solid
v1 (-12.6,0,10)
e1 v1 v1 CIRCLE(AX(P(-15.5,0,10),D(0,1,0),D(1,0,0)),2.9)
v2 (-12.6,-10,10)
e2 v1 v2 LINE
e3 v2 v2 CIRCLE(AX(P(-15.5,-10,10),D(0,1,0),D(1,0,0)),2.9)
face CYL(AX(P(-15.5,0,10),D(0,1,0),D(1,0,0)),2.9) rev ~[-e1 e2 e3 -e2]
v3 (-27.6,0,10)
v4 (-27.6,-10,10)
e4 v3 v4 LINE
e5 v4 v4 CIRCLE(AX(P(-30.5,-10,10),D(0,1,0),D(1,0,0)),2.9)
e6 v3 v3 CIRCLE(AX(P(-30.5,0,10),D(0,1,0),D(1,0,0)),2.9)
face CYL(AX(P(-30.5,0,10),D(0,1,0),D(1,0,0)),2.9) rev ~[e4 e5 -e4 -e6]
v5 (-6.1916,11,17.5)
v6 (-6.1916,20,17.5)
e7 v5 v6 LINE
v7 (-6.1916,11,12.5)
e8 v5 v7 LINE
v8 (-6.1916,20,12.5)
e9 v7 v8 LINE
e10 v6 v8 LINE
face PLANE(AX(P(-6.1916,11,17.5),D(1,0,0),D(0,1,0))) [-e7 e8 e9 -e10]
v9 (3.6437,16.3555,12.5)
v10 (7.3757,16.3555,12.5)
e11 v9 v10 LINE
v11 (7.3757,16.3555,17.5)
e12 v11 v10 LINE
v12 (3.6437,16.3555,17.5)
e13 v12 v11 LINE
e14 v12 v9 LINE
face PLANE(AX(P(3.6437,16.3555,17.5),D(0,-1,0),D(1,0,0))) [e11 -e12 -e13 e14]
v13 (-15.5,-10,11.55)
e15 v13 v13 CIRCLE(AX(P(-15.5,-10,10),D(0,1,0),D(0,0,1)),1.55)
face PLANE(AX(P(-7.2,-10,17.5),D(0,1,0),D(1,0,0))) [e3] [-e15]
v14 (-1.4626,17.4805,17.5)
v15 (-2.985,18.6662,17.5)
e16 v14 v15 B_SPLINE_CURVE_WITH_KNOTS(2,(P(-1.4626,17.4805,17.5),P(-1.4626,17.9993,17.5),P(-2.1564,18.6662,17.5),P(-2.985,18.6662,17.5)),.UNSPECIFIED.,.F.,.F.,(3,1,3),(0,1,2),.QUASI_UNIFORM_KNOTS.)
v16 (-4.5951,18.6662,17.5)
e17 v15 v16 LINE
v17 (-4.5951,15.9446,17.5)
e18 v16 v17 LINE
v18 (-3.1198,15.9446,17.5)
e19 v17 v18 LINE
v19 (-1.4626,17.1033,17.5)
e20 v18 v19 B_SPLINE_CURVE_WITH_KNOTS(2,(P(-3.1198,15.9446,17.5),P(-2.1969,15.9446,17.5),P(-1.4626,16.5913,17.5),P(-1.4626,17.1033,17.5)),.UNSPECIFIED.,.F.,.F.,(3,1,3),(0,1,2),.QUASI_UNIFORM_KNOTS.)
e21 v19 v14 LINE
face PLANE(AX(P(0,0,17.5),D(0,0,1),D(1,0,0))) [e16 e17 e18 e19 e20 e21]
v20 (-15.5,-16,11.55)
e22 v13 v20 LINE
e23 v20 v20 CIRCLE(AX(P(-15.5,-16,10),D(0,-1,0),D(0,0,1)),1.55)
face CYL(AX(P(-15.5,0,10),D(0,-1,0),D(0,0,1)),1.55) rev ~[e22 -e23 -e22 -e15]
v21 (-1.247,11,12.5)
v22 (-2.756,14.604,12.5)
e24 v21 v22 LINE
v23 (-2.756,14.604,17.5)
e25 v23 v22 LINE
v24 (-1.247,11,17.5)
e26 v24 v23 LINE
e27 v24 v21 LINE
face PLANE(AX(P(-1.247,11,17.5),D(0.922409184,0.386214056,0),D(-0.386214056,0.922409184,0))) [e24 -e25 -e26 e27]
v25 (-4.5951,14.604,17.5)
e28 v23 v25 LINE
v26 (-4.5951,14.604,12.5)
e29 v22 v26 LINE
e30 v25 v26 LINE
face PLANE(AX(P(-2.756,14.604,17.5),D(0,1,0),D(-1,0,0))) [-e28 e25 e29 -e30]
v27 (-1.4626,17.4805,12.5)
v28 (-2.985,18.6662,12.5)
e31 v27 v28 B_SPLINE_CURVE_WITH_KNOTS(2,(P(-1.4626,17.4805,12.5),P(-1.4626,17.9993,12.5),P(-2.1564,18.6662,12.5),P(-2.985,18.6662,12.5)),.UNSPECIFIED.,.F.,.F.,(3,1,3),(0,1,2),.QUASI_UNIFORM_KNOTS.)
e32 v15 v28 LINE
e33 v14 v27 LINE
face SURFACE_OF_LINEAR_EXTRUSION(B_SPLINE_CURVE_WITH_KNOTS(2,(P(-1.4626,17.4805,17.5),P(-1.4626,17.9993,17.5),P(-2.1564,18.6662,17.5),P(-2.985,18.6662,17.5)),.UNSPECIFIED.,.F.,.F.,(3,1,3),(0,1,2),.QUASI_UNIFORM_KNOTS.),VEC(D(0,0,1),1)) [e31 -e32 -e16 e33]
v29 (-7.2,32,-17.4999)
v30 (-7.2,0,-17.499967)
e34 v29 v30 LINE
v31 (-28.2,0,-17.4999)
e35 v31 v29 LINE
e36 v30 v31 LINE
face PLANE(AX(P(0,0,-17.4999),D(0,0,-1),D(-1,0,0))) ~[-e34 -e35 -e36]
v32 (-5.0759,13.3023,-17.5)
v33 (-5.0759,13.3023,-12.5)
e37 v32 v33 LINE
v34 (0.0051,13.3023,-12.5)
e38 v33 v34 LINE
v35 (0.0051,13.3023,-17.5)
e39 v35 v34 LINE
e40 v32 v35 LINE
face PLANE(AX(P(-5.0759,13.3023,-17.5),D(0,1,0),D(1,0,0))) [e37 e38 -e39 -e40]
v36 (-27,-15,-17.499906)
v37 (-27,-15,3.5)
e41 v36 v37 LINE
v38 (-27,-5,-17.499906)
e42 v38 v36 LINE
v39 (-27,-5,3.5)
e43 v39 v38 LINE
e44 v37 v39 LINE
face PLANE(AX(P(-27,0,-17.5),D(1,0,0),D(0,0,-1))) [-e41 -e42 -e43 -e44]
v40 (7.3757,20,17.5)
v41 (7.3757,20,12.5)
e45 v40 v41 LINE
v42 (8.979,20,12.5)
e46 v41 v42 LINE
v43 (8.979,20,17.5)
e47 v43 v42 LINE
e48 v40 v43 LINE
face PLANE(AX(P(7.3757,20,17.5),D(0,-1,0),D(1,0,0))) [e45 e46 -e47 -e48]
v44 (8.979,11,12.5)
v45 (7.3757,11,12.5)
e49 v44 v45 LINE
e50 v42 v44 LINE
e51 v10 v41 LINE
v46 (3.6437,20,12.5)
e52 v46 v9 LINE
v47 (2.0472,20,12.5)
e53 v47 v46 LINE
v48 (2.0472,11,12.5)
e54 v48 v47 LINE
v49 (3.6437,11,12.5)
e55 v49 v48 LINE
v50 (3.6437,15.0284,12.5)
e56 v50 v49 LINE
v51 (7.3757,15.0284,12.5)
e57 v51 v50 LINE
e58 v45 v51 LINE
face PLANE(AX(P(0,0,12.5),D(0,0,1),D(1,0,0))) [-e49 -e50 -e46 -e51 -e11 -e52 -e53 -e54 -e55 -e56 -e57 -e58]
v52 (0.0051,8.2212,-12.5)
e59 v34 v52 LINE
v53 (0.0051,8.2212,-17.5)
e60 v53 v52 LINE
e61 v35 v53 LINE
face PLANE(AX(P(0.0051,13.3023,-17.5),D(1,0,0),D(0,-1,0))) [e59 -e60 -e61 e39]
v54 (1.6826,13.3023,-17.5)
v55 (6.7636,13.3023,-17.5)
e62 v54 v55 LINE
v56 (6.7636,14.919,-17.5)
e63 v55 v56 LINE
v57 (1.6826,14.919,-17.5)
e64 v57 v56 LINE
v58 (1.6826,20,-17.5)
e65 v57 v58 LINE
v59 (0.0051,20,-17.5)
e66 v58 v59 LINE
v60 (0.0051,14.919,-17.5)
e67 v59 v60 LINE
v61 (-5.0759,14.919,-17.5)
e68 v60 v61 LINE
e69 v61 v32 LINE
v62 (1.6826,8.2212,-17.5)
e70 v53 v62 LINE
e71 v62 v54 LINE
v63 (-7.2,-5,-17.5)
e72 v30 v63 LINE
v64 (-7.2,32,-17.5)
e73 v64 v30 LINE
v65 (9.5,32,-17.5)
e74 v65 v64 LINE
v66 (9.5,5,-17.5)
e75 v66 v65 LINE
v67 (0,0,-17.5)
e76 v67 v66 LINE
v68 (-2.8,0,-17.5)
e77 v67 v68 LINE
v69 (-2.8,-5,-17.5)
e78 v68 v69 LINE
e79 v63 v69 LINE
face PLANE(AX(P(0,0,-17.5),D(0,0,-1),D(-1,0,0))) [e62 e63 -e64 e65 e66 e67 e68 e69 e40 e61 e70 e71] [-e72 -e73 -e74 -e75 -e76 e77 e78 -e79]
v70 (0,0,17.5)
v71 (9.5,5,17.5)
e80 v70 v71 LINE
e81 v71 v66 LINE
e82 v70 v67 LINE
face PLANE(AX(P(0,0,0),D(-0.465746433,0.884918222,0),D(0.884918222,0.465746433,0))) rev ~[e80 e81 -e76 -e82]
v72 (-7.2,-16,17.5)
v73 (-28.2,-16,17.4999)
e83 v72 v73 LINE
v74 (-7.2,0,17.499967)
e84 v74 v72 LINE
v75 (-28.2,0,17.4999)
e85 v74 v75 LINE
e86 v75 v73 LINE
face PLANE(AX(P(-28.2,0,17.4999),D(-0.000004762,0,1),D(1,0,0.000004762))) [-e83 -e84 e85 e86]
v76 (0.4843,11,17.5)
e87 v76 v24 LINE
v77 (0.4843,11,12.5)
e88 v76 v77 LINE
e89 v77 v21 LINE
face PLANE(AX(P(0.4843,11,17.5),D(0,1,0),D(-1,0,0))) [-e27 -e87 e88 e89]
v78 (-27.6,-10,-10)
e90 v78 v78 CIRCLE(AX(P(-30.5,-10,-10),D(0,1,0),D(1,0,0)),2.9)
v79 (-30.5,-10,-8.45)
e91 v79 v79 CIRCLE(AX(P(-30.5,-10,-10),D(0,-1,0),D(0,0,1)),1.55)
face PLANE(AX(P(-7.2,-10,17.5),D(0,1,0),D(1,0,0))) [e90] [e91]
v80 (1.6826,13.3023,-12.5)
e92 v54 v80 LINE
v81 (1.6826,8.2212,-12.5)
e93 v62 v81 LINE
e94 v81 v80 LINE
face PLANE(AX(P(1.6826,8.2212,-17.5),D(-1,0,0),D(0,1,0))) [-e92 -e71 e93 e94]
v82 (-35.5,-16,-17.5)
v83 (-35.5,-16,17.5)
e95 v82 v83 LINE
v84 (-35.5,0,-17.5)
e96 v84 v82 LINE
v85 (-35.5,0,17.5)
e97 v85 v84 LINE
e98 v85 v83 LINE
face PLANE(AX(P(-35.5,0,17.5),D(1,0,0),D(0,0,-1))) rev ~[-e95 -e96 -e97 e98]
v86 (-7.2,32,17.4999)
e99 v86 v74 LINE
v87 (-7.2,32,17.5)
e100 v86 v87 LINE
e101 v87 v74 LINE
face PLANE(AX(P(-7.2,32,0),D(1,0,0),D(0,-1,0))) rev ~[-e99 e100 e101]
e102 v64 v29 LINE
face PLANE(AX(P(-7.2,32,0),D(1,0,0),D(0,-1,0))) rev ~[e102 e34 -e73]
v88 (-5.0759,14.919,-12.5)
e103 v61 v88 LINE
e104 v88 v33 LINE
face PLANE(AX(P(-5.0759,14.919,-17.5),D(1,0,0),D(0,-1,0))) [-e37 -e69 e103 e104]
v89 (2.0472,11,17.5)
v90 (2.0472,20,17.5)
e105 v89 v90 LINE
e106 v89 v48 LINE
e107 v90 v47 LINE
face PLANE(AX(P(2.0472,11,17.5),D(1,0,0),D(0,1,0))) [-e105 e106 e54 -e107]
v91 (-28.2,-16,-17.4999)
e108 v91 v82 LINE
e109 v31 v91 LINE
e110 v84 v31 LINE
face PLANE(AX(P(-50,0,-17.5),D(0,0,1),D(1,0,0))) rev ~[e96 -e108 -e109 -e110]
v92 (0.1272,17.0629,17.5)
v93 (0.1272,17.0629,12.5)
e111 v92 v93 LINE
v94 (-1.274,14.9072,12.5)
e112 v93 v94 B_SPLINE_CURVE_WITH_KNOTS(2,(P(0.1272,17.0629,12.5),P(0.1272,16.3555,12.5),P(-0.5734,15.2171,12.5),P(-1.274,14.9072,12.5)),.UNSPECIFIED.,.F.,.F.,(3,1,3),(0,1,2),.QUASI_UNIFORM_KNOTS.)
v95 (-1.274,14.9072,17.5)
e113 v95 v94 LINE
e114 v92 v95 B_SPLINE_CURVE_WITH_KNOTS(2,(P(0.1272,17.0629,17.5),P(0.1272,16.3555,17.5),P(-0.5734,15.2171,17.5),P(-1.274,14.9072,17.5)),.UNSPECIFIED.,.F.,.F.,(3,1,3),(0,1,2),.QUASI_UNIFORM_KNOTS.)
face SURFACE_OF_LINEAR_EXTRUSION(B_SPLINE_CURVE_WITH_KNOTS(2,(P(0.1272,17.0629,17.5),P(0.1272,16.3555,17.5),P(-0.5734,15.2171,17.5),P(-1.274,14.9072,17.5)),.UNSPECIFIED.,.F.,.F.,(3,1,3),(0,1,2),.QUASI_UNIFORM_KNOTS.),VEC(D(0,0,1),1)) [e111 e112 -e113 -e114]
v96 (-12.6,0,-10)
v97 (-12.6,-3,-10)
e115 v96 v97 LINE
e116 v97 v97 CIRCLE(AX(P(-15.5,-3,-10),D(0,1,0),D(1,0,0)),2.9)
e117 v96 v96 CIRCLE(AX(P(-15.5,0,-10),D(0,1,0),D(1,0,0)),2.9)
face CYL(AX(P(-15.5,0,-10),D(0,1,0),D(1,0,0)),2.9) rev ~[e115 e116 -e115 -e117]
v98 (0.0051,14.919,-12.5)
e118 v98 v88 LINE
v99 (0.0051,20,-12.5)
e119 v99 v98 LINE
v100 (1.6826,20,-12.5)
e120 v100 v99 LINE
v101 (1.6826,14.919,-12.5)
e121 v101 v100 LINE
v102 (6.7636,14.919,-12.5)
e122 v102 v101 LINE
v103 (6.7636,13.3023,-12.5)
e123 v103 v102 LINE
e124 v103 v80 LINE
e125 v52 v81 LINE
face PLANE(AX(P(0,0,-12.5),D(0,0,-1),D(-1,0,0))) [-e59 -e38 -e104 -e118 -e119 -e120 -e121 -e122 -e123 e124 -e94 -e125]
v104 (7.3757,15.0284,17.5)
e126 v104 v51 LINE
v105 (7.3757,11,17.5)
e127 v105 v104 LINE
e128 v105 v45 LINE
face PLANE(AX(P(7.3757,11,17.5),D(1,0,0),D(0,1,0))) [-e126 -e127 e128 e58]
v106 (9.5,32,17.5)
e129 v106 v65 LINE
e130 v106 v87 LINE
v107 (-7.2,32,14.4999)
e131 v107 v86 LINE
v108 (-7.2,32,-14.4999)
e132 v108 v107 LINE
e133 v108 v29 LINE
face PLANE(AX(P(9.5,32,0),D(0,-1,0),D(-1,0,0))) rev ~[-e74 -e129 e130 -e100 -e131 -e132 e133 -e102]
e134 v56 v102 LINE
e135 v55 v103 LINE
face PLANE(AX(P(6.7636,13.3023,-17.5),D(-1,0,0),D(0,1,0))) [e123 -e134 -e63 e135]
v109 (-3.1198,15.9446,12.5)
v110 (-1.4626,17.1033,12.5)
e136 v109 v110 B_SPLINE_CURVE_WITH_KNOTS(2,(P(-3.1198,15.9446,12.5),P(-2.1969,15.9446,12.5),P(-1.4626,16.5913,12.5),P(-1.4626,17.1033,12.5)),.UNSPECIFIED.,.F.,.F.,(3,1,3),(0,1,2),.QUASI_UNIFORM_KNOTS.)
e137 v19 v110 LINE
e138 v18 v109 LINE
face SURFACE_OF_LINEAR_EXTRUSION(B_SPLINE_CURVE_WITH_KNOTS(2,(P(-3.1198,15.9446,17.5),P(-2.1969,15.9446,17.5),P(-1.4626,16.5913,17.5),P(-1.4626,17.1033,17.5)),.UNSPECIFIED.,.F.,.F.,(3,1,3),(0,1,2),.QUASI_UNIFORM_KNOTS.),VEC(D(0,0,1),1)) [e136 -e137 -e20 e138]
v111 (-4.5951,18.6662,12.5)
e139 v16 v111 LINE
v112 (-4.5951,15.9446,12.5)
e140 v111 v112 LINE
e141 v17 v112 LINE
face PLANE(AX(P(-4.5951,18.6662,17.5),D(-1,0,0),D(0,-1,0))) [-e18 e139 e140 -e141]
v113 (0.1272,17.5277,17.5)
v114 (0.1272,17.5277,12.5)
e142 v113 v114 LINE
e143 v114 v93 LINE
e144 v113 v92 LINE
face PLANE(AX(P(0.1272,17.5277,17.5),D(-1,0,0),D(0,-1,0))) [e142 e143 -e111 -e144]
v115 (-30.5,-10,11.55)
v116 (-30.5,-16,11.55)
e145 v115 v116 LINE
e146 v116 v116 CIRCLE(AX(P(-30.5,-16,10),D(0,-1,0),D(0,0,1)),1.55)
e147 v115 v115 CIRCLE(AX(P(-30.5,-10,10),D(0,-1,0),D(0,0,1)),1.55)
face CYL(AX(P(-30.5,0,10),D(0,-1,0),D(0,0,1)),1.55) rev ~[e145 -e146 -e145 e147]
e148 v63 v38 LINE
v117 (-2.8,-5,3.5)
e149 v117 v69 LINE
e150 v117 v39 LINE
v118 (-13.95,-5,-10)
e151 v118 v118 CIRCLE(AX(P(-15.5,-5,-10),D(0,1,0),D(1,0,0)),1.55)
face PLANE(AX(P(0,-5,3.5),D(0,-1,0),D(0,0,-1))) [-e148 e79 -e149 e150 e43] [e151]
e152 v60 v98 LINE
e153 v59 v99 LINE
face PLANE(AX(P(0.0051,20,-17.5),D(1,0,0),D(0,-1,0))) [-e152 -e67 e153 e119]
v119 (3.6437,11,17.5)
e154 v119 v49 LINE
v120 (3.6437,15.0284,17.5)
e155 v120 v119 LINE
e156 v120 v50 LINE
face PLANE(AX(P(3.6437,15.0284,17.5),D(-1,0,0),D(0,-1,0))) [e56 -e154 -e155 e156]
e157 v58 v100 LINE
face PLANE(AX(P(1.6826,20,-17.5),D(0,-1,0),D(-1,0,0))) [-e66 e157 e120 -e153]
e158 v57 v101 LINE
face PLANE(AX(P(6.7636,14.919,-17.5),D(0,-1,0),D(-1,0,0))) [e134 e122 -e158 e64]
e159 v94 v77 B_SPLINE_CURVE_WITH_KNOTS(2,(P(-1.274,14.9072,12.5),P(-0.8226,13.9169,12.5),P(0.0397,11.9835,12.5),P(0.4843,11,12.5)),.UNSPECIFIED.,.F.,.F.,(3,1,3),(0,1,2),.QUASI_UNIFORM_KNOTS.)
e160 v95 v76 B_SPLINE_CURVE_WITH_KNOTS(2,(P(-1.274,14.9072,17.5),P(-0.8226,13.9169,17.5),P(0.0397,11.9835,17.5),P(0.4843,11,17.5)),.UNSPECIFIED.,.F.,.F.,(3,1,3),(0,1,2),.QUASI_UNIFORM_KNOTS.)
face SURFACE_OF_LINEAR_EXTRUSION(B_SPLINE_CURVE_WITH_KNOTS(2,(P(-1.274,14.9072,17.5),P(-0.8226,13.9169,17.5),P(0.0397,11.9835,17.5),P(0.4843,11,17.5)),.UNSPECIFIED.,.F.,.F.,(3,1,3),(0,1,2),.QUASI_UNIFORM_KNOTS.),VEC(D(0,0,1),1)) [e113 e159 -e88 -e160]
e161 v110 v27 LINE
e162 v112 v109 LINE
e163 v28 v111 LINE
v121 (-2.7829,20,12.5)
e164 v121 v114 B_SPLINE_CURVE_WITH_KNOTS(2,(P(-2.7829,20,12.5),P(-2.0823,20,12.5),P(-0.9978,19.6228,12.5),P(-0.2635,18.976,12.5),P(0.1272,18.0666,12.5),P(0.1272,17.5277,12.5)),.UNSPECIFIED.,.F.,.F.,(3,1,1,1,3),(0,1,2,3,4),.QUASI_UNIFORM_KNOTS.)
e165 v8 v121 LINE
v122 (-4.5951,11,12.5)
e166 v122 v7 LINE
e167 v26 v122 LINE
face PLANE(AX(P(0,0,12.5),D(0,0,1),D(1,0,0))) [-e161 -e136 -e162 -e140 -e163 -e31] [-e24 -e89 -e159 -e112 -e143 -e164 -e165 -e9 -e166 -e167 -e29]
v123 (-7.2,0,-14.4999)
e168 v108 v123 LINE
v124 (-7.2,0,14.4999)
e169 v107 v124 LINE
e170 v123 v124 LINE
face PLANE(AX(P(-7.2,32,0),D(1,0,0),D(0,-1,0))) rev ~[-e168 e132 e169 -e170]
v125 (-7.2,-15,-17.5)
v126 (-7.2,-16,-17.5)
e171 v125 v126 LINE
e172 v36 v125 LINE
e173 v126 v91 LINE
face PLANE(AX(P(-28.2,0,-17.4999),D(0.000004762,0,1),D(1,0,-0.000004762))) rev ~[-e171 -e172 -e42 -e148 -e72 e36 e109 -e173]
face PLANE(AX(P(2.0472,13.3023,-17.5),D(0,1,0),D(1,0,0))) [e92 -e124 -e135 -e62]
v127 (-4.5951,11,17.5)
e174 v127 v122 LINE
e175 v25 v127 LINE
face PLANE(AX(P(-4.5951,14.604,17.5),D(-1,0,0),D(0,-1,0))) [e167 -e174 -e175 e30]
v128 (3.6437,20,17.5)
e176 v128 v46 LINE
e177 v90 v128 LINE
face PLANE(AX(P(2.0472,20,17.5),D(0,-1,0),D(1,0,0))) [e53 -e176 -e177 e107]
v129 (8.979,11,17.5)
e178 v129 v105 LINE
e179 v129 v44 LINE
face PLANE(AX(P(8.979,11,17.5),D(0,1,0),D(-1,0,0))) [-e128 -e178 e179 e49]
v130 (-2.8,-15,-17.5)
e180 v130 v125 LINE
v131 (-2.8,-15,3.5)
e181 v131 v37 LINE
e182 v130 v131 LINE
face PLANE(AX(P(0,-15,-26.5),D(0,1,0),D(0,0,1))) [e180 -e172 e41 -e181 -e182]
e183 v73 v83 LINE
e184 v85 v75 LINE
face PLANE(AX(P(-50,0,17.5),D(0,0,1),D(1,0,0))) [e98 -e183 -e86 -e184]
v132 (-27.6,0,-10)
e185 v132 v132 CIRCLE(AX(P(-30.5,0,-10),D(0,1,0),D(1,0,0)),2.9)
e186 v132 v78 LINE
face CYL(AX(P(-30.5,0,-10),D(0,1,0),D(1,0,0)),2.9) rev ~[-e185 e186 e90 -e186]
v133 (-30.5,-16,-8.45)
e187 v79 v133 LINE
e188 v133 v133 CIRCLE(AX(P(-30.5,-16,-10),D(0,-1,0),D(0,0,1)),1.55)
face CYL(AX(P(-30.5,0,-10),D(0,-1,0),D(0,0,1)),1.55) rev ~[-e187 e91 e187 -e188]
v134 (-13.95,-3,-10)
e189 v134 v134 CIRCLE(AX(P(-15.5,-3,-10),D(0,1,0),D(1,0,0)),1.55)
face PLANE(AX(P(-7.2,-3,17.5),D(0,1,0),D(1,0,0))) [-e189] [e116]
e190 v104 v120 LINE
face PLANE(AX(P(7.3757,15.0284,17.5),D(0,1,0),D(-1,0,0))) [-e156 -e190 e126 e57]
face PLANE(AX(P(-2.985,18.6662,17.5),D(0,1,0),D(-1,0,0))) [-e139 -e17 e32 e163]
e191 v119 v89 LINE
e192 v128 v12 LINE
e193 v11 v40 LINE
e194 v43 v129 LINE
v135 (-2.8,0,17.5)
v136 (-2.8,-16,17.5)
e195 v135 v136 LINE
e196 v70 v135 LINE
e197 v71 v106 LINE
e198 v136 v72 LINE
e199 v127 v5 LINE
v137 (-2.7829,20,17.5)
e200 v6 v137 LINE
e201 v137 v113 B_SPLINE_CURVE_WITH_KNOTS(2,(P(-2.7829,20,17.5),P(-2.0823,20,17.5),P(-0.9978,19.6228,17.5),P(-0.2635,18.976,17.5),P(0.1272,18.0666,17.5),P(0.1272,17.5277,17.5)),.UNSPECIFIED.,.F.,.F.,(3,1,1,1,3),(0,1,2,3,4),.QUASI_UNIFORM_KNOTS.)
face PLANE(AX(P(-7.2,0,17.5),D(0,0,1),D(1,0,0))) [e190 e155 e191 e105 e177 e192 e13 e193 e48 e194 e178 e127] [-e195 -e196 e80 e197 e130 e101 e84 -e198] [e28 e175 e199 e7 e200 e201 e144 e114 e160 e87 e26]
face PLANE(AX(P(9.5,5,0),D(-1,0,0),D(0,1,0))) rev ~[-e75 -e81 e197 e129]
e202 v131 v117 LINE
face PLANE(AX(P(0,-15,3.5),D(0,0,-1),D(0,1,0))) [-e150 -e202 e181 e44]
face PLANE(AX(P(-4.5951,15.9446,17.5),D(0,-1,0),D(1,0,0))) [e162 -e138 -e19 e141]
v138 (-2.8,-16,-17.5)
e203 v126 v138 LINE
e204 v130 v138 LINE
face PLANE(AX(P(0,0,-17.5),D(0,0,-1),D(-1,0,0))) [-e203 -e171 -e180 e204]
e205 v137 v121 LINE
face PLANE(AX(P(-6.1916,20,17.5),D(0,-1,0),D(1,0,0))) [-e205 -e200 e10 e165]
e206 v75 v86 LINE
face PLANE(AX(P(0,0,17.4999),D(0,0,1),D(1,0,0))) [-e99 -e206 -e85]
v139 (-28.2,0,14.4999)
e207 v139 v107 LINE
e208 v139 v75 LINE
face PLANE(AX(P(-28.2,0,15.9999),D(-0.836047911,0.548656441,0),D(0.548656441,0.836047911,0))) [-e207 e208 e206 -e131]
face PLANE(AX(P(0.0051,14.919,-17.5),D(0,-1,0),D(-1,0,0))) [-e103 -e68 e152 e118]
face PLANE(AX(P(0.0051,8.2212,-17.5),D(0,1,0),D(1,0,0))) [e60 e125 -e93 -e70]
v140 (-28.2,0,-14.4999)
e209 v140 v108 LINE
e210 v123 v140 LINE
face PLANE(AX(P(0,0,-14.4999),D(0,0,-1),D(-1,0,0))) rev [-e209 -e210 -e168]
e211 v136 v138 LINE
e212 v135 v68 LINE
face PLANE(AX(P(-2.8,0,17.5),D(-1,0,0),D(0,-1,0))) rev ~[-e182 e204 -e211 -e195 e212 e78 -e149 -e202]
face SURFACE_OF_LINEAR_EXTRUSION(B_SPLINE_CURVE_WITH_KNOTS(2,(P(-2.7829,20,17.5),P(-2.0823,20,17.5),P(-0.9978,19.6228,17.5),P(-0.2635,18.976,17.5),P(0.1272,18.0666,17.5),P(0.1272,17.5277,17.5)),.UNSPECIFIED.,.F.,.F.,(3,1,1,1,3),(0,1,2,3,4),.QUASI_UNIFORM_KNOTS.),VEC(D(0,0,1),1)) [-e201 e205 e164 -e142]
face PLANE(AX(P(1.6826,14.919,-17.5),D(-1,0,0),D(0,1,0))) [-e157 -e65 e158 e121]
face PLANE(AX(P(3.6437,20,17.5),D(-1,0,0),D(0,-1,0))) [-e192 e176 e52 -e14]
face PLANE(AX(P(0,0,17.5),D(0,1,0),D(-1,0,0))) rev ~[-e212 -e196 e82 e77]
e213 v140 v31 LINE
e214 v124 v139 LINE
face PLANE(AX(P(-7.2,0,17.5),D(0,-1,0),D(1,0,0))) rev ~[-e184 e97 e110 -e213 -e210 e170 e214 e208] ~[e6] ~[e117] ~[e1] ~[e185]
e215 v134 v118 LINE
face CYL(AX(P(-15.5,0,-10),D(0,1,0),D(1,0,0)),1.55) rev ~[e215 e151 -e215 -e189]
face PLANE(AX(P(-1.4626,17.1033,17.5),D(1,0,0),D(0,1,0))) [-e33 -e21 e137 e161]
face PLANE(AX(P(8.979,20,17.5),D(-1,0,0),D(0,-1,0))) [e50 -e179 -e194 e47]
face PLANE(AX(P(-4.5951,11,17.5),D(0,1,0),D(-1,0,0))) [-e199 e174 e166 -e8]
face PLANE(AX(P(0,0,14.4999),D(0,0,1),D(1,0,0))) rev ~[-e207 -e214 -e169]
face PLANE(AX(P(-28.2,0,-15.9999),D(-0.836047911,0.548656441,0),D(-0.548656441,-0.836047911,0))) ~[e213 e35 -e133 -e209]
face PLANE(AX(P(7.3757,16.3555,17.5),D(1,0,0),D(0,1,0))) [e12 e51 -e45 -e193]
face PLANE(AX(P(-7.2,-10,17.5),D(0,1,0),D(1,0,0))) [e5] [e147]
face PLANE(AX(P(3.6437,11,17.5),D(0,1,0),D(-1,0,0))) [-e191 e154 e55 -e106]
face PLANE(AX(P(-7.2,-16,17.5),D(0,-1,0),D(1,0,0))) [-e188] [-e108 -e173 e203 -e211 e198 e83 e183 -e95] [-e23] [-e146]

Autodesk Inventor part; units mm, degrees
ref_plane "YZ Plane" through (0, 0, 0) normal (1, 0, 0) x (0, 1, 0)
ref_plane "XZ Plane" through (0, 0, 0) normal (0, 1, 0) x (-1, 0, 0)
sketch "Sketch1" plane through (0, 0, 0) normal (0, 0, 1) x (1, 0, 0)
  line L0 (-7.2, 32) -> (-7.2, 0)
  line L1 (-7.2, 0) -> (0, 0)
  line L2 (0, 0) -> (9.5, 5)
  line L3 (9.5, 5) -> (9.5, 32)
  line L4 (9.5, 32) -> (-7.2, 32)
  dimension "d0" = 32
  dimension "d2" = 7.2
  dimension "d55" = 9.5
  dimension "d57" = 27
extrude "Extrusion1" add sketch "Sketch1" along normal mid plane 35
ref_plane "Work Plane1" through (0, 0, 15.9999) normal (0, 0, 1) x (1, 0, 0)
sketch "Sketch2" plane through (0, 0, 15.9999) normal (0, 0, 1) x (1, 0, 0)
  line L0 (-7.2, 32) -> (-7.2, 0) projected
  line L1 (-7.2, 0) -> (0, 0) projected
  line L2 (-7.2, 0) -> (-28.2, 0)
  line L3 (-7.2, 0) -> (13.8, 0) construction
  line L4 (0, 0) -> (9.5, 5) projected
  line L5 (9.5, 5) -> (9.5, 32) projected
  line L6 (9.5, 32) -> (-7.2, 32) projected
  line L7 (-28.2, 0) -> (-7.2, 32)
  line L8 (-7.2, 0) -> (-7.2, 32)
  dimension "d9" = 21
  dimension "d10" = 180
  dimension "d88" = 32
extrude "Extrusion2" add sketch "Sketch2" along normal mid plane 3 contours L0 L2 L7
mirror "Mirror1" about plane through (0, 0, 0) normal (0, 0, 1) of "Extrusion2"
sketch "Sketch3" plane through (-7.2, 0, 17.5) normal (0, -1, 0) x (1, 0, 0)
  line L0 (-42.8, 2) -> (-18.0727, 11)
  line L1 (-18.0727, 11) -> (7.2, 11)
  line L2 (7.2, 11) -> (7.2, -46)
  line L3 (-42.8, 2) -> (-42.8, -37)
  line L4 (-42.8, -37) -> (-18.0727, -46)
  line L5 (-18.0727, -46) -> (7.2, -46)
  line L6 (7.2, -35) -> (7.2, 0) projected
  line L7 (7.2, -35) -> (7.2, 0) projected
  line L8 (0, 0) -> (0, -0.0001) projected
  line L9 (7.2, -35) -> (0, -35) projected
  line L10 (0, 0) -> (7.2, 0) projected
  line L11 (-21, -0.0001) -> (0, -0.0001) projected
  line L12 (-21, -3.0001) -> (-21, -0.0001) projected
  line L13 (0, -3.0001) -> (-21, -3.0001) projected
  line L14 (0, -3.0001) -> (0, -31.9999) projected
  line L15 (0, -31.9999) -> (-21, -31.9999) projected
  line L16 (-21, -31.9999) -> (-21, -34.9999) projected
  line L17 (-21, -34.9999) -> (0, -34.9999) projected
  line L18 (0, -34.9999) -> (0, -35) projected
  point P0 (7.2, -17.5)
  point P1 (-5.4364, 11)
  point P2 (7.2, -17.5)
  point P3 (7.2, -17.5)
  point P4 (7.2, -17.5)
  point P5 (-5.4364, -46)
  point P6 (-42.8, -17.5)
  point P7 (7.2, -17.5)
  point P8 (7.2, -35)
  point P9 (7.2, 0)
  dimension "d17" = 57
  dimension "d18" = 39
  dimension "d19" = 9
  dimension "d20" = 9
  dimension "d21" = 50
  dimension "d76" = 110
extrude "Extrusion3" add sketch "Sketch3" along normal blind 16
sketch "Sketch4" plane through (-7.2, 0, 17.5) normal (0, 1, 0) x (1, 0, 0)
  line L0 (7.2, 17.5) -> (-27.8, 17.5) construction
  line L1 (-23.3, 7.5) -> (-8.3, 7.5) construction
  line L2 (-23.3, 27.5) -> (-23.3, 7.5) construction
  line L3 (7.2, 35) -> (0, 35) projected
  line L4 (7.2, 46) -> (7.2, 35) projected
  line L5 (-18.0727, 46) -> (7.2, 46) projected
  line L6 (-42.8, 37) -> (-18.0727, 46) projected
  line L7 (-42.8, -2) -> (-42.8, 37) projected
  line L8 (-18.0727, -11) -> (-42.8, -2) projected
  line L9 (7.2, -11) -> (-18.0727, -11) projected
  line L10 (7.2, 0) -> (7.2, -11) projected
  line L11 (0, 0) -> (7.2, 0) projected
  line L12 (0, 0) -> (0, 0.0001) projected
  line L13 (-21, 0.0001) -> (0, 0.0001) projected
  line L14 (-21, 3.0001) -> (-21, 0.0001) projected
  line L15 (0, 3.0001) -> (-21, 3.0001) projected
  line L16 (0, 3.0001) -> (0, 31.9999) projected
  line L17 (0, 31.9999) -> (-21, 31.9999) projected
  line L18 (-21, 31.9999) -> (-21, 34.9999) projected
  line L19 (-21, 34.9999) -> (0, 34.9999) projected
  line L20 (0, 34.9999) -> (0, 35) projected
  point P0 (-23.3, 17.5)
  point P1 (-10.3, 17.5)
  dimension "d26" = 15
  dimension "d27" = 20
  dimension "d58" = 13
  dimension "d59" = 19.5
hole "Hole1" at (-30.5, 0, 10) at (-15.5, 0, 10) at (-30.5, 0, -10) direction (0, -1, 0) diameter 3.1 end through all
sketch "Sketch5" plane through (0, 0, -17.5) normal (1, 0, 0) x (0, 0, -1)
  line L0 (11, 0) -> (0, 0) projected
  line L1 (-35, 0) -> (-46, 0) projected
  line L2 (-46, 0) -> (-46, -16) projected
  line L3 (11, -16) -> (-46, -16) projected
  line L4 (11, 0) -> (11, -16) projected
  line L5 (-46, 0) -> (-46, -16) projected
  line L6 (-21, -5) -> (9, -5)
  line L7 (9, -5) -> (9, -15)
  line L8 (9, -15) -> (-21, -15)
  line L9 (-21, -15) -> (-21, -5)
  line L10 (0, 0) -> (-35, 0) projected
  point P0 (-17.5, 0)
  point P1 (-17.5, 0)
  point P2 (-46, -8)
  point P3 (-46, -8)
  point P4 (11, -12.5)
  point P5 (11, -2.5)
  dimension "d46" = 30
  dimension "d47" = 10
  dimension "d48" = 2
  dimension "d49" = 5
extrude "Extrusion4" cut sketch "Sketch5" against normal blind 27 contours L6 L7 L8 L9
sketch "Sketch6" plane through (-7.2, 0, 17.5) normal (0, 1, 0) x (1, 0, 0)
  circle A0 centre (-23.3, 27.5) radius 1.55 projected
  circle A1 centre (-8.3, 7.5) radius 1.55 projected
  circle A2 centre (-23.3, 7.5) radius 1.55 projected
  line L0 (7.2, 35) -> (0, 35) projected
  line L1 (7.2, 46) -> (7.2, 35) projected
  line L2 (-18.0727, 46) -> (7.2, 46) projected
  line L3 (-42.8, 37) -> (-18.0727, 46) projected
  line L4 (-42.8, -2) -> (-42.8, 37) projected
  line L5 (-18.0727, -11) -> (-42.8, -2) projected
  line L6 (7.2, -11) -> (-18.0727, -11) projected
  line L7 (7.2, 0) -> (7.2, -11) projected
  line L8 (0, 0) -> (7.2, 0) projected
  line L9 (0, 0) -> (0, 0.0001) projected
  circle A3 centre (-8.3, 27.5) radius 2.9
  line L10 (-21, 0.0001) -> (0, 0.0001) projected
  line L11 (-21, 3.0001) -> (-21, 0.0001) projected
  line L12 (0, 3.0001) -> (-21, 3.0001) projected
  line L13 (0, 3.0001) -> (0, 31.9999) projected
  line L14 (0, 31.9999) -> (-21, 31.9999) projected
  line L15 (-21, 31.9999) -> (-21, 34.9999) projected
  line L16 (-21, 34.9999) -> (0, 34.9999) projected
  line L17 (0, 34.9999) -> (0, 35) projected
  point P0 (7.2, 17.5)
  dimension "d41" = 5.8
  dimension "d42" = 15
  dimension "d43" = 20
extrude "Extrusion5" cut sketch "Sketch6" against normal blind 3 contours A3
sketch "Sketch8" plane through (0, 0, 17.5) normal (0, 0, 1) x (1, 0, 0)
  line L0 (-7.2, 0) -> (0, 0) projected
  line L1 (0, 0) -> (9.5, 5) projected
  line L2 (9.5, 5) -> (9.5, 32) projected
  line L3 (9.5, 32) -> (-7.2, 32) projected
  line L4 (-7.2, 32) -> (-7.2, 0) projected
  line L5 (-7.2021, 20) -> (7.8, 20) construction
  line L6 (7.8, 20) -> (7.8, 7.2072) construction
  line L7 (7.8, 7.2072) -> (-7.2021, 7.2072) construction
  line L8 (-7.2021, 7.2072) -> (-7.2021, 20) construction
  line L9 (-2.756, 14.604) -> (-4.5951, 14.604)
  line L10 (-4.5951, 14.604) -> (-4.5951, 11)
  line L11 (-4.5951, 11) -> (-6.1916, 11)
  line L12 (-6.1916, 11) -> (-6.1916, 20)
  line L13 (-6.1916, 20) -> (-2.7829, 20)
  spline S0 degree 2 poles (-2.7829, 20) (-2.0823, 20) (-0.9978, 19.6228) (-0.2635, 18.976) (0.1272, 18.0666) (0.1272, 17.5277) knots 0 0 0 1 2 3 4 4 4
  line L14 (0.1272, 17.5277) -> (0.1272, 17.0629)
  spline S1 degree 2 poles (0.1272, 17.0629) (0.1272, 16.3555) (-0.5734, 15.2171) (-1.274, 14.9072) knots 0 0 0 1 2 2 2
  spline S2 degree 2 poles (-1.274, 14.9072) (-0.8226, 13.9169) (0.0397, 11.9835) (0.4843, 11) knots 0 0 0 1 2 2 2
  line L15 (0.4843, 11) -> (-1.247, 11)
  line L16 (-1.247, 11) -> (-2.756, 14.604)
  line L17 (-4.5951, 18.6662) -> (-4.5951, 15.9446)
  line L18 (-4.5951, 15.9446) -> (-3.1198, 15.9446)
  spline S3 degree 2 poles (-3.1198, 15.9446) (-2.1969, 15.9446) (-1.4626, 16.5913) (-1.4626, 17.1033) knots 0 0 0 1 2 2 2
  line L19 (-1.4626, 17.1033) -> (-1.4626, 17.4805)
  spline S4 degree 2 poles (-1.4626, 17.4805) (-1.4626, 17.9993) (-2.1564, 18.6662) (-2.985, 18.6662) knots 0 0 0 1 2 2 2
  line L20 (-2.985, 18.6662) -> (-4.5951, 18.6662)
  line L21 (7.3757, 15.0284) -> (3.6437, 15.0284)
  line L22 (3.6437, 15.0284) -> (3.6437, 11)
  line L23 (3.6437, 11) -> (2.0472, 11)
  line L24 (2.0472, 11) -> (2.0472, 20)
  line L25 (2.0472, 20) -> (3.6437, 20)
  line L26 (3.6437, 20) -> (3.6437, 16.3555)
  line L27 (3.6437, 16.3555) -> (7.3757, 16.3555)
  line L28 (7.3757, 16.3555) -> (7.3757, 20)
  line L29 (7.3757, 20) -> (8.979, 20)
  line L30 (8.979, 20) -> (8.979, 11)
  line L31 (8.979, 11) -> (7.3757, 11)
  line L32 (7.3757, 11) -> (7.3757, 15.0284)
  point P0 (-7, 15)
  dimension "d68" = 12
  dimension "d69" = 15
extrude "Extrusion7" cut sketch "Sketch8" against normal blind 5 contours L9 L10 L11 L12 L13 S0 L14 S1 S2 L15 L16 | L21 L22 L23 L24 L25 L26 L27 L28 L29 L30 L31 L32
sketch "Sketch9" plane through (0, 0, -17.5) normal (0, 0, -1) x (-1, 0, 0)
  line L0 (-2.0472, 11) -> (-2.0472, 20) projected
  line L1 (0, 0) -> (7.2, 0) projected
  line L2 (7.2, 0) -> (7.2, 32) projected
  line L3 (7.2, 32) -> (-9.5, 32) projected
  line L4 (-9.5, 32) -> (-9.5, 5) projected
  line L5 (-9.5, 5) -> (0, 0) projected
  line L6 (-8.356, 20) -> (-4.8532, 20) construction
  line L7 (-4.8532, 20) -> (-4.8532, 17.8281) construction
  line L8 (-4.8532, 17.8281) -> (-8.356, 17.8281) construction
  line L9 (-8.356, 17.8281) -> (-8.356, 20) construction
  line L10 (5.5, 50.4054) -> (5.5, 41.2692)
  line L11 (5.0759, 13.3023) -> (-0.0051, 13.3023)
  line L12 (-0.0051, 13.3023) -> (-0.0051, 8.2212)
  line L13 (-0.0051, 8.2212) -> (-1.6826, 8.2212)
  line L14 (-1.6826, 8.2212) -> (-1.6826, 13.3023)
  line L15 (-1.6826, 13.3023) -> (-6.7636, 13.3023)
  line L16 (-6.7636, 13.3023) -> (-6.7636, 14.919)
  line L17 (-6.7636, 14.919) -> (-1.6826, 14.919)
  line L18 (-1.6826, 14.919) -> (-1.6826, 20)
  line L19 (-1.6826, 20) -> (-0.0051, 20)
  line L20 (-0.0051, 20) -> (-0.0051, 14.919)
  line L21 (-0.0051, 14.919) -> (5.0759, 14.919)
  line L22 (5.0759, 14.919) -> (5.0759, 13.3023)
  dimension "d72" = 12
  dimension "d73" = 15
extrude "Extrusion8" cut sketch "Sketch9" against normal blind 5 contours L15 L16 L17 L0 | L0 L17 L18 L19 L20 L21 L22 L11 L12 L13 L14 L15
sketch "Sketch10" plane through (-7.2, 0, 17.5) normal (0, 1, 0) x (1, 0, 0)
  line L0 (-30.65, 19.5) -> (4.05, 19.5) projected
  circle A0 centre (-23.3, 27.5) radius 1.55 projected
  circle A1 centre (-23.3, 7.5) radius 1.55 projected
  circle A2 centre (-8.3, 7.5) radius 1.55 projected
  circle A3 centre (-23.3, 27.5) radius 2.9
  circle A4 centre (-23.3, 7.5) radius 2.9
  circle A5 centre (-8.3, 7.5) radius 2.9
  point P0 (7.2, 17.5)
  dimension "d77" = 5.8
  dimension "d78" = 5.8
  dimension "d79" = 5.8
extrude "Extrusion9" cut sketch "Sketch10" against normal blind 10 contours A0 | A1 | A3 | A4 | A5
sketch "Sketch12" plane through (-7.2, 0, 17.5) normal (0, 1, 0) x (1, 0, 0)
  circle A0 centre (-8.3, 27.5) radius 2.9 projected
  circle A1 centre (-8.3, 27.5) radius 1.55
  point P0 (7.2, 17.5)
  dimension "d85" = 3.1
extrude "Extrusion11" cut sketch "Sketch12" against normal up to surface (5 mm away) contours A1
sketch "Sketch13" plane through (-7.2, 0, 17.5) normal (0, 1, 0) x (1, 0, 0)
  circle A0 centre (-8.3, 7.5) radius 2.9 projected
  circle A1 centre (-23.3, 27.5) radius 2.9 projected
  circle A2 centre (-23.3, 7.5) radius 2.9 projected
  circle A3 centre (-8.3, 27.5) radius 2.9 projected
  line L0 (7.2, 35) -> (0, 35) projected
  line L1 (7.2, 46) -> (7.2, 35) projected
  line L2 (-18.0727, 46) -> (7.2, 46) projected
  line L3 (-42.8, 37) -> (-18.0727, 46) projected
  line L4 (-42.8, -2) -> (-42.8, 37) projected
  line L5 (-18.0727, -11) -> (-42.8, -2) projected
  line L6 (7.2, -11) -> (-18.0727, -11) projected
  line L7 (7.2, 0) -> (7.2, -11) projected
  line L8 (0, 0) -> (7.2, 0) projected
  line L9 (0, 0) -> (0, 0.0001) projected
  line L10 (-21, 0.0001) -> (0, 0.0001) projected
  line L11 (-21, 3.0001) -> (-21, 0.0001) projected
  line L12 (0, 3.0001) -> (-21, 3.0001) projected
  line L13 (0, 3.0001) -> (0, 31.9999) projected
  line L14 (0, 31.9999) -> (-21, 31.9999) projected
  line L15 (-21, 31.9999) -> (-21, 34.9999) projected
  line L16 (-21, 34.9999) -> (0, 34.9999) projected
  line L17 (0, 34.9999) -> (0, 35) projected
  line L18 (7.2, -11) -> (-42.8, -11)
  line L19 (-42.8, -11) -> (-42.8, 0)
  line L20 (-42.8, 0) -> (7.2, 0)
  line L21 (7.2, 0) -> (7.2, -11)
  line L22 (7.2, 46) -> (-42.8, 46)
  line L23 (-42.8, 46) -> (-42.8, 35)
  line L24 (-42.8, 35) -> (7.2, 35)
  line L25 (7.2, 35) -> (7.2, 46)
  point P0 (7.2, 17.5)
  point P1 (7.2, 40.5)
  dimension "d89" = 11
  dimension "d92" = 11
  dimension "d93" = 50
extrude "Extrusion12" cut sketch "Sketch13" against normal blind 30 contours L0 L16 L24 L4 L3 L2 L1 | L20 L10 L8 L7 L6 L5 L4
sketch "Sketch14" plane through (-7.2, 0, 17.5) normal (0, 1, 0) x (1, 0, 0)
  line L0 (-42.8, 0) -> (0, 0) projected
  line L1 (0, 0) -> (0, 0.0001) projected
  line L2 (-21, 0.0001) -> (0, 0.0001) projected
  line L3 (-21, 3.0001) -> (-21, 0.0001) projected
  line L4 (0, 3.0001) -> (-21, 3.0001) projected
  line L5 (0, 3.0001) -> (0, 31.9999) projected
  line L6 (0, 31.9999) -> (-21, 31.9999) projected
  line L7 (-21, 31.9999) -> (-21, 34.9999) projected
  line L8 (-21, 34.9999) -> (0, 34.9999) projected
  line L9 (0, 34.9999) -> (0, 35) projected
  line L10 (0, 35) -> (-42.8, 35) projected
  line L11 (-42.8, 0) -> (-42.8, 35) projected
  circle A0 centre (-8.3, 7.5) radius 2.9 projected
  circle A1 centre (-23.3, 27.5) radius 2.9 projected
  circle A2 centre (-23.3, 7.5) radius 2.9 projected
  circle A3 centre (-8.3, 27.5) radius 2.9 projected
  line L12 (-42.8, 0) -> (-28.3, 0)
  line L13 (-28.3, 0) -> (-28.3, 35)
  line L14 (-28.3, 35) -> (-42.8, 35)
  line L15 (-42.8, 35) -> (-42.8, 0)
  point P0 (7.2, 17.5)
  point P1 (-28.3, 0)
  dimension "d94" = 5
extrude "Extrusion13" cut sketch "Sketch14" against normal through all contours L11 L10 L13 L0
sketch "Sketch15" plane through (0, 0, 17.5) normal (0, 0, 1) x (1, 0, 0)
  line L0 (-1.247, 11) -> (-2.756, 14.604) projected
  line L1 (-2.756, 14.604) -> (-4.5951, 14.604) projected
  line L2 (-4.5951, 14.604) -> (-4.5951, 11) projected
  line L3 (-4.5951, 11) -> (-6.1916, 11) projected
  line L4 (-6.1916, 11) -> (-6.1916, 20) projected
  line L5 (-6.1916, 20) -> (-2.7829, 20) projected
  line L6 (0.1272, 17.5277) -> (0.1272, 17.0629) projected
  line L7 (0.4843, 11) -> (-1.247, 11) projected
  line L8 (7.3757, 11) -> (7.3757, 15.0284) projected
  line L9 (7.3757, 15.0284) -> (3.6437, 15.0284) projected
  line L10 (3.6437, 15.0284) -> (3.6437, 11) projected
  line L11 (3.6437, 11) -> (2.0472, 11) projected
  line L12 (2.0472, 11) -> (2.0472, 20) projected
  line L13 (2.0472, 20) -> (3.6437, 20) projected
  line L14 (3.6437, 20) -> (3.6437, 16.3555) projected
  line L15 (3.6437, 16.3555) -> (7.3757, 16.3555) projected
  line L16 (7.3757, 16.3555) -> (7.3757, 20) projected
  line L17 (7.3757, 20) -> (8.979, 20) projected
  line L18 (8.979, 20) -> (8.979, 11) projected
  line L19 (8.979, 11) -> (7.3757, 11) projected
  line L20 (-35.5, 0) -> (-35.5, -16) projected
  line L21 (0, -16) -> (-35.5, -16) projected
  line L22 (0, 0) -> (0, -16) projected
  line L23 (0, 0) -> (9.5, 5) projected
  line L24 (9.5, 5) -> (9.5, 32) projected
  line L25 (9.5, 32) -> (-7.2, 32) projected
  line L26 (-7.2, 32) -> (-7.2, 0) projected
  line L27 (-35.5, 0) -> (-7.2, 0) projected
  line L28 (0, 0) -> (-2.8, 0)
  line L29 (-2.8, 0) -> (-2.8, -16)
  line L30 (-2.8, -16) -> (0, -16)
  line L31 (0, -16) -> (0, 0)
  point P0 (-1.274, 14.9072)
  dimension "d97" = 2.8
extrude "Extrusion14" cut sketch "Sketch15" against normal up to surface (35 mm away) contours L29 L28 L22 L21
properties part number "gripper" material "ABS Plastic"
